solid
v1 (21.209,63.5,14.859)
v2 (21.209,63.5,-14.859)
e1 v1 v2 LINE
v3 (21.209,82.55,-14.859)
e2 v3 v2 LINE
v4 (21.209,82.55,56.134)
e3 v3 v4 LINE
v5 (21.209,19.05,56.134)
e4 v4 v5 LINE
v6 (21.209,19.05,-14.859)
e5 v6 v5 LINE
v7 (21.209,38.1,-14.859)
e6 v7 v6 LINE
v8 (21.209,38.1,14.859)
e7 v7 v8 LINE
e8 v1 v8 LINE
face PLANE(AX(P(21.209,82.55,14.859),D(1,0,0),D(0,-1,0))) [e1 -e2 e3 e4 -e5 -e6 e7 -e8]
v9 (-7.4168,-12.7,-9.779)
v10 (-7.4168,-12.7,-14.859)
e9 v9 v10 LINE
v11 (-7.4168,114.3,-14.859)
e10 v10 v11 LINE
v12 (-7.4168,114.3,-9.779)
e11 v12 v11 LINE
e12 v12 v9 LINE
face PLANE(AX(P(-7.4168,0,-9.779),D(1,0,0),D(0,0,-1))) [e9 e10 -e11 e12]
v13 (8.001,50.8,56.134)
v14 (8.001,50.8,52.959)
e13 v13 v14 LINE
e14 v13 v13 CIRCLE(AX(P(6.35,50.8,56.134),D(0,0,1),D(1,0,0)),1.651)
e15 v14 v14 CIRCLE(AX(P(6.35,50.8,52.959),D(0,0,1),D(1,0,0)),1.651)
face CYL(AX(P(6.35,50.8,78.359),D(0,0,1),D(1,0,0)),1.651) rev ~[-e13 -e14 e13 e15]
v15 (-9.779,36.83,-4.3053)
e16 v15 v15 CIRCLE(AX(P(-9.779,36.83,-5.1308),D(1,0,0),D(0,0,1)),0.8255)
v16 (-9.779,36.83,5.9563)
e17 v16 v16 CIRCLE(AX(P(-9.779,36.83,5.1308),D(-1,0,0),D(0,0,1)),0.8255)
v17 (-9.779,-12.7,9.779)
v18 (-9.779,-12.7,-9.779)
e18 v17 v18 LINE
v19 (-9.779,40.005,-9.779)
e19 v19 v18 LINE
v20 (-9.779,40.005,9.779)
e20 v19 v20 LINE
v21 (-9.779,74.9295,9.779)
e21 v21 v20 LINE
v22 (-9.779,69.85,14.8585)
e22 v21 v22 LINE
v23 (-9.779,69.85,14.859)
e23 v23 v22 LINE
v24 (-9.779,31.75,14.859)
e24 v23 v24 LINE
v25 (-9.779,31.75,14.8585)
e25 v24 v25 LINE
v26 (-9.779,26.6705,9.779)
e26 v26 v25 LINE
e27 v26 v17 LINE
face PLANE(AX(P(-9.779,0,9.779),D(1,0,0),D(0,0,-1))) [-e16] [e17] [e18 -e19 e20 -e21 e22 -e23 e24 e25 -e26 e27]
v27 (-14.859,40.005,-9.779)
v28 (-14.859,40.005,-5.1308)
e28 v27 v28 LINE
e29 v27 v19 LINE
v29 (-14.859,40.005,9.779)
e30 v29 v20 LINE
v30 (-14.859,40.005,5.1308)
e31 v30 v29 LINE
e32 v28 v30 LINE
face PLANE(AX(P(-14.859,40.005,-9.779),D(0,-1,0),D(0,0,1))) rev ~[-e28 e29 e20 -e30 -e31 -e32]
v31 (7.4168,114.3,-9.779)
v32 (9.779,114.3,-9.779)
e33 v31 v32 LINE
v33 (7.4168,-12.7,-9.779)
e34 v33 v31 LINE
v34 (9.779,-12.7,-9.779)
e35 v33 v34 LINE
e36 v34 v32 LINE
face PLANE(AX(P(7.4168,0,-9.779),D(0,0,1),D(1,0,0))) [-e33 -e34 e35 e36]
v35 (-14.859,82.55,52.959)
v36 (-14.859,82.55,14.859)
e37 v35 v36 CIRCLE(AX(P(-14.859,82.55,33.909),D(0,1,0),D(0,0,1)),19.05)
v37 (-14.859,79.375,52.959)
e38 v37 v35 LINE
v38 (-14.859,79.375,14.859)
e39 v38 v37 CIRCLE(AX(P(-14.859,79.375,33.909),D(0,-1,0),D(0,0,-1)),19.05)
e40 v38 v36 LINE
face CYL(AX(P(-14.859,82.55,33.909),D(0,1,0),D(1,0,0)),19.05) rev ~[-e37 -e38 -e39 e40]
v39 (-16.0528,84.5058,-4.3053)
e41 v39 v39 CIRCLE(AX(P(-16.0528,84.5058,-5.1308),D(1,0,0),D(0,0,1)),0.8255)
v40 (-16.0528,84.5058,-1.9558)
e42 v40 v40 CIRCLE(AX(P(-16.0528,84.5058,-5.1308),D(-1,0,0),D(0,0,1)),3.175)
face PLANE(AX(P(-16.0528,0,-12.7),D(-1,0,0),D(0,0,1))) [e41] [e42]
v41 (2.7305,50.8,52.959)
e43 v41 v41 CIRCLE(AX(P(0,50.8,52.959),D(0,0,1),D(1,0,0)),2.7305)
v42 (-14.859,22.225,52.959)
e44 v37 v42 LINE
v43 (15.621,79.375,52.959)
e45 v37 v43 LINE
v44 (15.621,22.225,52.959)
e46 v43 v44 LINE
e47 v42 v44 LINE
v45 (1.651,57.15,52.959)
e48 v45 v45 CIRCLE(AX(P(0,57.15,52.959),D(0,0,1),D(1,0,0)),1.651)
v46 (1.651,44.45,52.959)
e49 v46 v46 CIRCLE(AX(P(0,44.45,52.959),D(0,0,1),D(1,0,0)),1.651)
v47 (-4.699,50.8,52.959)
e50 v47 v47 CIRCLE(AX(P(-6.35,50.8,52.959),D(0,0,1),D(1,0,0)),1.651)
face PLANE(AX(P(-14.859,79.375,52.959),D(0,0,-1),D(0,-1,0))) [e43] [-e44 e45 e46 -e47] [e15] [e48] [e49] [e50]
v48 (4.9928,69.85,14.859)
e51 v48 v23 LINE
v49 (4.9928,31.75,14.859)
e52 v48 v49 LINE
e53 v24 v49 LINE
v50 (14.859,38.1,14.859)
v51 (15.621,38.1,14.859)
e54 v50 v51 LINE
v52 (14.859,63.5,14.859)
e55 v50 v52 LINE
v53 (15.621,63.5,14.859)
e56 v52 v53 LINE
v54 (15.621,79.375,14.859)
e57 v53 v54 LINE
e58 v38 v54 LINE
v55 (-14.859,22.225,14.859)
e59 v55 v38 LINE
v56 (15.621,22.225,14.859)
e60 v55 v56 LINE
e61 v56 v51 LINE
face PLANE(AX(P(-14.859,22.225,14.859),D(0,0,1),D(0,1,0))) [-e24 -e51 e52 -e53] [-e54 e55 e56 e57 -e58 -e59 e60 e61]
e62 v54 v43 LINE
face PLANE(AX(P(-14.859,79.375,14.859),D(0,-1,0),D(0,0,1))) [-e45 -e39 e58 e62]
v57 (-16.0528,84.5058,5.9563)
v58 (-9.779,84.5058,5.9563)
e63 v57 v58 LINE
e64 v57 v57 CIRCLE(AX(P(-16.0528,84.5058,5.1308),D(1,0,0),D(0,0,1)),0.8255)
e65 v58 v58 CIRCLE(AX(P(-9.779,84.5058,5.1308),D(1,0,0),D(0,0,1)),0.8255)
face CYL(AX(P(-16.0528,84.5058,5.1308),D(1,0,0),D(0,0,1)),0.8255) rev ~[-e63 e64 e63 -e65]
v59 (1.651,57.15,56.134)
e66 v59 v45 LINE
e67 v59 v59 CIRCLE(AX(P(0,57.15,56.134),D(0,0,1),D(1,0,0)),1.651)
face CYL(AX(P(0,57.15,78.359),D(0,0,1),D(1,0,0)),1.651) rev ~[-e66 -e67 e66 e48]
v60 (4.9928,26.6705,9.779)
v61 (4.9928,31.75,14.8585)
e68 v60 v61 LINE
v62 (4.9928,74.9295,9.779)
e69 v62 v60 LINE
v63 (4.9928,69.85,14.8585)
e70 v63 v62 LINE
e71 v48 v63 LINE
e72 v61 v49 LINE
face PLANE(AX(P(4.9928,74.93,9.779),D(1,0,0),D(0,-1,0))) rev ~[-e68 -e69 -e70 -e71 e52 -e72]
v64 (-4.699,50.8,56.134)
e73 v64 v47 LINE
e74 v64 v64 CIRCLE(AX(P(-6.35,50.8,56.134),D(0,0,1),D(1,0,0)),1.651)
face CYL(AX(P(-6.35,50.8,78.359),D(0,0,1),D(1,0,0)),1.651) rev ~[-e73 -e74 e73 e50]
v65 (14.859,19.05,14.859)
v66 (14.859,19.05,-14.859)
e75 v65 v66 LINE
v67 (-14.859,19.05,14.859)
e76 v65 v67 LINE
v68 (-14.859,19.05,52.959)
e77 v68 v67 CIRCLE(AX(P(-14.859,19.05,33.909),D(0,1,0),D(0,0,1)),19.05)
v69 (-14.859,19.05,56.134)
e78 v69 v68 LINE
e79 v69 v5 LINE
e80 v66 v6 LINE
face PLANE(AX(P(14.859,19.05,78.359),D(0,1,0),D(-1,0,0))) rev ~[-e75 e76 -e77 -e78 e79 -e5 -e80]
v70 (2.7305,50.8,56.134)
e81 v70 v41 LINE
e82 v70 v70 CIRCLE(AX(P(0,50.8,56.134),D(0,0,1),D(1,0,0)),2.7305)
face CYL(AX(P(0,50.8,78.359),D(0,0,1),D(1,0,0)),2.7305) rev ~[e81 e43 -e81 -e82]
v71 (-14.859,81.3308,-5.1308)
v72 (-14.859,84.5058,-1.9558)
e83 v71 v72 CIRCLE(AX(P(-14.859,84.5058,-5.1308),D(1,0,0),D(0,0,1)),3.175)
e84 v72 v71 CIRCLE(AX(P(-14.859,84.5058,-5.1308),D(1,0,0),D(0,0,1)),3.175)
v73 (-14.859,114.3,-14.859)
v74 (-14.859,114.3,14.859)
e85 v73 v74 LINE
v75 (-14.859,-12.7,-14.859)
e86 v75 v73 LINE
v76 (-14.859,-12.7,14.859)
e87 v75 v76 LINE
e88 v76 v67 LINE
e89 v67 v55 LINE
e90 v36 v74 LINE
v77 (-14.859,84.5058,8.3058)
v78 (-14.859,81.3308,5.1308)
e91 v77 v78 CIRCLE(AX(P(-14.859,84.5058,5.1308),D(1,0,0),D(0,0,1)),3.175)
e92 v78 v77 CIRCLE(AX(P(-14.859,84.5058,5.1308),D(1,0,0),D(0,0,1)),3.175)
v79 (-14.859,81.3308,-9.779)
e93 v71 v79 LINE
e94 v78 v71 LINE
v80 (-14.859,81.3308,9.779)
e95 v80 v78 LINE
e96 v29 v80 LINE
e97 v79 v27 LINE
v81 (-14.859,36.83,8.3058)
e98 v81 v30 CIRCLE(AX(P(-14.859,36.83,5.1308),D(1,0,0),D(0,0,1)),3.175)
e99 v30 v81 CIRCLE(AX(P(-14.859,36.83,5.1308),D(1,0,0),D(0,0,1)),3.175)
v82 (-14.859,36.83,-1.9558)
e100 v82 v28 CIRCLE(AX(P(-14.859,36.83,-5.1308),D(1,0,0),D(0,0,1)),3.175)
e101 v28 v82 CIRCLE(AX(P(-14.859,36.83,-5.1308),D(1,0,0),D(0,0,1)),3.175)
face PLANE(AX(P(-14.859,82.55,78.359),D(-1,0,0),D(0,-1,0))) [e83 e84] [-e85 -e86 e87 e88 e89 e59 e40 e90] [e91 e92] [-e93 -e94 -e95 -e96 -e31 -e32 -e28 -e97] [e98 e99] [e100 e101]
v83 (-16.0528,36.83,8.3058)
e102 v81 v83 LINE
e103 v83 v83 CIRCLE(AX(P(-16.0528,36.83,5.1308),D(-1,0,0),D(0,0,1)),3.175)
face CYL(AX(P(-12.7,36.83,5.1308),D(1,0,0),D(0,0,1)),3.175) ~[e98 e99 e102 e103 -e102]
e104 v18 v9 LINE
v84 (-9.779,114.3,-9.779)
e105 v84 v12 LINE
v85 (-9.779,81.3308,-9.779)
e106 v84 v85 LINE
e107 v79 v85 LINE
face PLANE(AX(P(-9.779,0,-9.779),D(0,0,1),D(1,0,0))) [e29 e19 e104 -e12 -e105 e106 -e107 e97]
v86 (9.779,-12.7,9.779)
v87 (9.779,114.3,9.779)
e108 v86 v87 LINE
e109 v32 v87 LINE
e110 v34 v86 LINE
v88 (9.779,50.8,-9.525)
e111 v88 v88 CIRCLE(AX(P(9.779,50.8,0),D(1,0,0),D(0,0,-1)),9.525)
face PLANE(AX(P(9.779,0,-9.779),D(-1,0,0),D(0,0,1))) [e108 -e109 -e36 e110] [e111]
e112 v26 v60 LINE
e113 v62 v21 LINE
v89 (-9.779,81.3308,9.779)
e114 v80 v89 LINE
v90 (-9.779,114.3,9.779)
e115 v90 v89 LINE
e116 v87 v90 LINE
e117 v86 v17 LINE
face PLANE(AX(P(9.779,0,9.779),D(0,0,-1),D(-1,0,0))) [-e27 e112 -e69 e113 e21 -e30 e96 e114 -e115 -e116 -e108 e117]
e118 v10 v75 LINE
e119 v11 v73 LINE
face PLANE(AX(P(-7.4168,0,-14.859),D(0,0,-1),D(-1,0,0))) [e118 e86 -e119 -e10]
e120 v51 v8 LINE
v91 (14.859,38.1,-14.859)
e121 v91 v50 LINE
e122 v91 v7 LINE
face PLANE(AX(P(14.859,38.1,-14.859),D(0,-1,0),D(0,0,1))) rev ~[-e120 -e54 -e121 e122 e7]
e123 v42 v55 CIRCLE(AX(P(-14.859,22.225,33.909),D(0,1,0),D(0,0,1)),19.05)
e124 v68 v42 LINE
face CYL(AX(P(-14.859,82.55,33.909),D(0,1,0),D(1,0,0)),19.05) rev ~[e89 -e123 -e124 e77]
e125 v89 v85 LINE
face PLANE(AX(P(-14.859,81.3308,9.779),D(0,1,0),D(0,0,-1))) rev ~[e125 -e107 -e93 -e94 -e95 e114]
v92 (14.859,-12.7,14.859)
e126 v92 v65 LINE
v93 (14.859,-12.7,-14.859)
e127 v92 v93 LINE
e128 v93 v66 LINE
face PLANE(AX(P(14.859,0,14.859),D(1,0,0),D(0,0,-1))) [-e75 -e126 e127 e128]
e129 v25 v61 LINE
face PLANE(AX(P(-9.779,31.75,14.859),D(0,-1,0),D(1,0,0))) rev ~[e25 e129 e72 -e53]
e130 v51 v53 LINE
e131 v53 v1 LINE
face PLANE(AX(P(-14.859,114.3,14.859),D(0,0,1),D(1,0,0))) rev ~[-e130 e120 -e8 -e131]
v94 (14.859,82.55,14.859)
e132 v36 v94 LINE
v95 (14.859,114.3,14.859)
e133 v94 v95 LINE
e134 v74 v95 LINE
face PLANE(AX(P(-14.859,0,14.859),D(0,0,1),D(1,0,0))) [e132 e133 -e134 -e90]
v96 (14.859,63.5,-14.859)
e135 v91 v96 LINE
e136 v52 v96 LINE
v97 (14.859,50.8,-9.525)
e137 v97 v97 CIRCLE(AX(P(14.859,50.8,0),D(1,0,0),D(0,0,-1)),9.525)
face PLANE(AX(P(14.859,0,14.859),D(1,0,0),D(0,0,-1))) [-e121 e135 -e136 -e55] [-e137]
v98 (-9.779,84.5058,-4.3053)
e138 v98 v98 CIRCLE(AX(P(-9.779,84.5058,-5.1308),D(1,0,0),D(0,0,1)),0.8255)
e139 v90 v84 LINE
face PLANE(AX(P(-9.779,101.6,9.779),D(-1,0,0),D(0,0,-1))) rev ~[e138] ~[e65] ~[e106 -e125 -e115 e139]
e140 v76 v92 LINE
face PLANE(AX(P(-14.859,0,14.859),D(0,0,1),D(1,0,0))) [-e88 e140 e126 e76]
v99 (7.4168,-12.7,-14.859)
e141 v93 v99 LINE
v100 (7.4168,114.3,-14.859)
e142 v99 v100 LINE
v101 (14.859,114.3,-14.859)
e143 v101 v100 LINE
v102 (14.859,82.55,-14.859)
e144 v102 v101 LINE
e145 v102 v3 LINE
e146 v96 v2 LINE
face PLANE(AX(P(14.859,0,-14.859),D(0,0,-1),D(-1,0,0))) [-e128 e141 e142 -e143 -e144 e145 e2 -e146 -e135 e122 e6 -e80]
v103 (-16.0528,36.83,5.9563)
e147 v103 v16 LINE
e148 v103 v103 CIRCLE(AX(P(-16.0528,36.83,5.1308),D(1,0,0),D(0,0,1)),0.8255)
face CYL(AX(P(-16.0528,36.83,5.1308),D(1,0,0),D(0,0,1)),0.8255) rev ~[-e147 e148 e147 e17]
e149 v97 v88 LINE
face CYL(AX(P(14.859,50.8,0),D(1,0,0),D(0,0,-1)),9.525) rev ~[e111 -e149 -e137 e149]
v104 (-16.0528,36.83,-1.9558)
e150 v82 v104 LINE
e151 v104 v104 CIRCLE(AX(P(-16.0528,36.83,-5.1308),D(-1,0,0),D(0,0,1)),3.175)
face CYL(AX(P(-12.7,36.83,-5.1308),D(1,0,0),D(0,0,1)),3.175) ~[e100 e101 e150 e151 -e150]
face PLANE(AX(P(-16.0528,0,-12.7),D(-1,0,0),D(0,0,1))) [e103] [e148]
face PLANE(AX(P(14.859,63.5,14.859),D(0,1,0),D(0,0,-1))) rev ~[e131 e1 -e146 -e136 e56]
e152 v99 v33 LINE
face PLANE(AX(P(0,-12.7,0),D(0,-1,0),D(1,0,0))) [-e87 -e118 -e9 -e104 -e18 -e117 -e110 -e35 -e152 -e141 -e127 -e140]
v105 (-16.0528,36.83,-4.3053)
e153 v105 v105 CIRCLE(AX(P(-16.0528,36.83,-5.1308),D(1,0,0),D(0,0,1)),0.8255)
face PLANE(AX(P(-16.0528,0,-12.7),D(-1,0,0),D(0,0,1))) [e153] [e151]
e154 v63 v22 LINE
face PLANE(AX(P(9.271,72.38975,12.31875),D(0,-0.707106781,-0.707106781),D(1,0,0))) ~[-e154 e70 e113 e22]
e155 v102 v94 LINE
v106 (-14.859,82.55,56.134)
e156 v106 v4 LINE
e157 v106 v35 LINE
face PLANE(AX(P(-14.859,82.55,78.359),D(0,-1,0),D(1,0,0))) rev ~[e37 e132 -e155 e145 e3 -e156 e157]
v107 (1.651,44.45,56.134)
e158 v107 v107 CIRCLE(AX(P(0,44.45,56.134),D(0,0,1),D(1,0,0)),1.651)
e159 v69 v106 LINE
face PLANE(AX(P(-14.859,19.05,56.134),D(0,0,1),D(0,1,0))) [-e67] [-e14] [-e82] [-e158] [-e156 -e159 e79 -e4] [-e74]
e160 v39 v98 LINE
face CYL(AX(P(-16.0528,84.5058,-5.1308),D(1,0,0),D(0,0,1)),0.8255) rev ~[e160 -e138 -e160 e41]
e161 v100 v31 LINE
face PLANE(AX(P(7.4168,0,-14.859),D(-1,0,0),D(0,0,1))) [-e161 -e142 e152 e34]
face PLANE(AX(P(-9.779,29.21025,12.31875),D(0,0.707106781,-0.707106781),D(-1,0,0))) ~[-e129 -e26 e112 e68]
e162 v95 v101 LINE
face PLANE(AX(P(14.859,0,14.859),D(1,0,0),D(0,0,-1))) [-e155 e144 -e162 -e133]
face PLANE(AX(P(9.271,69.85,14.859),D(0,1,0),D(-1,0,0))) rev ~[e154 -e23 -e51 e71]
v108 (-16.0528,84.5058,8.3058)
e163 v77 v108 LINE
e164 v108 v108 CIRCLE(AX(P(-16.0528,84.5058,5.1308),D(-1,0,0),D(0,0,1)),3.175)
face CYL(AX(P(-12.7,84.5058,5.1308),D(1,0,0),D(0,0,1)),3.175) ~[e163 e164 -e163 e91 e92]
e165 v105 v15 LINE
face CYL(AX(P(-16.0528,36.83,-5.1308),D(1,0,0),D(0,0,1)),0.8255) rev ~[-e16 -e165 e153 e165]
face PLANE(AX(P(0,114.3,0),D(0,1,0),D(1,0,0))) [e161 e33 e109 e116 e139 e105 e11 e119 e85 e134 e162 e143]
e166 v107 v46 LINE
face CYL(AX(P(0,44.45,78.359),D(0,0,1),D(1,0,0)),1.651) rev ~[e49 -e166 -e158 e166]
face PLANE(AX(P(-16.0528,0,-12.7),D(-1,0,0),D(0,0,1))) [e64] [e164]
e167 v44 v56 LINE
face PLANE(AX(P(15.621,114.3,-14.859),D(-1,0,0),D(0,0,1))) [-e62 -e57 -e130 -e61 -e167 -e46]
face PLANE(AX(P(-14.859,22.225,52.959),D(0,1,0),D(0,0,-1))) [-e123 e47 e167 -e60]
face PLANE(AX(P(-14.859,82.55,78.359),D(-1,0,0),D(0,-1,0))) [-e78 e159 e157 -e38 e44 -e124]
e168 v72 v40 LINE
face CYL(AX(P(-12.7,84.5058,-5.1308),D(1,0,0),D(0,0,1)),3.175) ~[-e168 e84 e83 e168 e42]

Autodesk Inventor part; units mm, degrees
ref_plane "YZ Plane" through (0, 0, 0) normal (1, 0, 0) x (0, 1, 0)
ref_plane "XZ Plane" through (0, 0, 0) normal (0, 1, 0) x (-1, 0, 0)
ref_plane "XY Plane" through (0, 0, 0) normal (0, 0, 1) x (1, 0, 0)
sketch "Sketch1" plane through (0, 0, 0) normal (0, 1, 0) x (-1, 0, 0)
  line L0 (12.7, 12.7) -> (-12.7, 12.7)
  line L1 (-12.7, 12.7) -> (-12.7, -12.7)
  line L2 (-12.7, -12.7) -> (12.7, -12.7)
  line L3 (12.7, -12.7) -> (12.7, 12.7)
  point P0 (0, 0)
  dimension "d0" = 12.7
  dimension "d1" = 12.7
  dimension "d2" = 25.4
  dimension "d3" = 25.4
extrude "Extrusion1" add sketch "Sketch1" along normal blind 101.6
sketch "Sketch2" plane through (0, 101.6, 0) normal (0, 1, 0) x (1, 0, 0)
  line L0 (-9.779, -9.779) -> (9.779, -9.779)
  line L1 (9.779, -9.779) -> (9.779, 9.779)
  line L2 (9.779, 9.779) -> (-9.779, 9.779)
  line L3 (-9.779, 9.779) -> (-9.779, -9.779)
  line L4 (-12.7, 12.7) -> (-12.7, -12.7) projected
  line L5 (-12.7, -12.7) -> (12.7, -12.7) projected
  line L6 (12.7, -12.7) -> (12.7, 12.7) projected
  line L7 (12.7, 12.7) -> (-12.7, 12.7) projected
  point P0 (0, 0)
  dimension "d6" = 2.921
  dimension "d7" = 2.921
  dimension "d8" = 2.921
  dimension "d9" = 2.921
extrude "Extrusion2" cut sketch "Sketch2" against normal blind 101.6 contours L3 L2 L1 L0
sketch "Sketch3" plane through (0, 101.6, 0) normal (0, 1, 0) x (1, 0, 0)
  line L0 (-9.779, 9.779) -> (9.779, 9.779) projected
  line L1 (12.7, 12.7) -> (-12.7, 12.7) projected
  line L2 (-7.4168, 9.779) -> (7.4168, 9.779)
  line L3 (7.4168, 9.779) -> (7.4168, 12.7)
  line L4 (7.4168, 12.7) -> (-7.4168, 12.7)
  line L5 (-7.4168, 12.7) -> (-7.4168, 9.779)
  line L6 (-12.7, 12.7) -> (-12.7, -12.7) projected
  line L7 (12.7, -12.7) -> (12.7, 12.7) projected
  point P0 (0, 0)
  dimension "d12" = 5.2832
  dimension "d13" = 5.2832
extrude "Extrusion3" cut sketch "Sketch3" against normal blind 101.6
sketch "Sketch5" plane through (-12.7, 0, -12.7) normal (-1, 0, 0) x (0, 0, 1)
  line L0 (2.921, 40.005) -> (22.479, 40.005)
  line L1 (22.479, 40.005) -> (22.479, 81.3308)
  line L2 (22.479, 81.3308) -> (2.921, 81.3308)
  line L3 (2.921, 81.3308) -> (2.921, 40.005)
  line L4 (0, 0) -> (0, 101.6) projected
  line L5 (22.479, 101.6) -> (2.921, 101.6) projected
  point P0 (12.7, 0)
  dimension "d16" = 19.558
  dimension "d17" = 2.921
  dimension "d18" = 20.2692
  dimension "d19" = 41.3258
extrude "Extrusion4" cut sketch "Sketch5" against normal blind 5.08
sketch "Sketch6" plane through (-12.7, 0, -12.7) normal (-1, 0, 0) x (0, 0, 1)
  circle A0 centre (17.8308, 36.83) radius 3.175
  line L0 (25.4, 0) -> (25.4, 101.6) projected
  circle A1 centre (7.5692, 36.83) radius 3.175
  circle A2 centre (17.8308, 84.5058) radius 3.175
  circle A3 centre (7.5692, 84.5058) radius 3.175
  line L1 (0, 101.6) -> (25.4, 101.6) projected
  point P0 (12.7, 0)
  dimension "d22" = 7.5692
  dimension "d23" = 10.2616
  dimension "d24" = 6.35
  dimension "d25" = 6.35
  dimension "d26" = 6.35
  dimension "d27" = 6.35
  dimension "d28" = 17.0942
  dimension "d29" = 17.0942
  dimension "d30" = 10.2616
  dimension "d31" = 7.5692
  dimension "d32" = 47.6758
  dimension "d33" = 47.6758
extrude "Extrusion5" add sketch "Sketch6" along normal blind 3.3528
hole "Hole1" at (-16.0528, 84.5058, 5.1308) direction (1, 0, 0) diameter 1.651 depth 12.7 tip angle 118
hole "Hole2" at (-16.0528, 84.5058, -5.1308) direction (1, 0, 0) diameter 1.651 depth 12.7 tip angle 118
hole "Hole3" at (-16.0528, 36.83, 5.1308) direction (1, 0, 0) diameter 1.651 depth 12.7 tip angle 118
hole "Hole4" at (-16.0528, 36.83, -5.1308) direction (1, 0, 0) diameter 1.651 depth 12.7 tip angle 118
sketch "Sketch11" plane through (-12.7, 0, 12.7) normal (0, 0, 1) x (1, 0, 0)
  line L0 (5.08, 31.75) -> (17.78, 31.75)
  line L1 (17.78, 31.75) -> (17.78, 69.85)
  line L2 (17.78, 69.85) -> (5.08, 69.85)
  line L3 (5.08, 69.85) -> (5.08, 31.75)
  line L4 (0, 0) -> (25.4, 0) projected
  line L5 (0, 101.6) -> (25.4, 101.6) projected
  line L6 (0, 0) -> (0, 101.6) projected
  point P0 (12.7, 0)
  dimension "d82" = 31.75
  dimension "d83" = 31.75
  dimension "d84" = 5.08
  dimension "d85" = 12.7
extrude "Extrusion6" cut sketch "Sketch11" against normal blind 10.16
sketch "Sketch12" plane through (0, 0, 0) normal (0, -1, 0) x (1, 0, 0)
  line L0 (-7.4168, -9.779) -> (-7.4168, -14.859)
  line L1 (-7.4168, -14.859) -> (-14.859, -14.859)
  line L2 (-14.859, -14.859) -> (-14.859, 14.859)
  line L3 (-12.7, -12.7) -> (-12.7, 12.7) projected
  line L4 (-7.4168, -12.7) -> (-12.7, -12.7) projected
  line L5 (7.4168, -9.779) -> (7.4168, -14.859)
  line L6 (7.4168, -9.779) -> (7.4168, -12.7) projected
  line L7 (7.4168, -14.859) -> (14.859, -14.859)
  line L8 (14.859, -14.859) -> (14.859, 14.859)
  line L9 (12.7, -12.7) -> (7.4168, -12.7) projected
  line L10 (12.7, 12.7) -> (12.7, -12.7) projected
  line L11 (14.859, 14.859) -> (-14.859, 14.859)
  line L12 (5.08, 12.7) -> (-7.62, 12.7) projected
  line L13 (-7.4168, -12.7) -> (-7.4168, -9.779)
  line L14 (-7.4168, -12.7) -> (-7.4168, -9.779) projected
  line L15 (-9.779, -9.779) -> (-9.779, 9.779)
  line L16 (-9.779, 9.779) -> (9.779, 9.779) projected
  line L17 (-9.779, 9.779) -> (9.779, 9.779)
  line L18 (9.779, 9.779) -> (-9.779, 9.779) projected
  line L19 (9.779, 9.779) -> (9.779, -9.779)
  line L20 (9.779, -9.779) -> (7.4168, -9.779)
  line L21 (7.4168, -9.779) -> (9.779, -9.779) projected
  line L22 (-7.4168, -9.779) -> (-9.779, -9.779)
  point P0 (0, 0)
  dimension "d88" = 5.08
  dimension "d89" = 2.159
  dimension "d90" = 2.159
  dimension "d92" = 2.159
  dimension "d94" = 2.159
  dimension "d95" = 2.159
extrude "Extrusion7" add sketch "Sketch12" against normal blind 101.6
hole "Hole5" at (-16.0528, 84.5058, 5.1308) direction (1, 0, 0) diameter 1.651 depth 12.7 tip angle 118
hole "Hole6" at (-16.0528, 84.5058, -5.1308) direction (1, 0, 0) diameter 1.651 depth 12.7 tip angle 118
hole "Hole7" at (-16.0528, 36.83, 5.1308) direction (1, 0, 0) diameter 1.651 depth 12.7 tip angle 118
hole "Hole8" at (-16.0528, 36.83, -5.1308) direction (1, 0, 0) diameter 1.651 depth 12.7 tip angle 118
sketch "Sketch13" plane through (-14.859, 0, -14.859) normal (-1, 0, 0) x (0, 0, 1)
  line L0 (5.08, 40.005) -> (24.638, 40.005)
  line L1 (24.638, 40.005) -> (24.638, 81.3308)
  line L2 (24.638, 81.3308) -> (5.08, 81.3308)
  line L3 (5.08, 81.3308) -> (5.08, 40.005)
  line L4 (0, 0) -> (0, 101.6) projected
  line L5 (29.718, 0) -> (29.718, 101.6) projected
  line L6 (0, 101.6) -> (29.718, 101.6) projected
  point P0 (14.859, 0)
  dimension "d136" = 41.3258
  dimension "d137" = 20.2692
  dimension "d139" = 19.558
  dimension "d140" = 29.718
  dimension "d141" = 5.08
  dimension "d142" = 5.08
extrude "Extrusion8" cut sketch "Sketch13" against normal blind 10.16
sketch "Sketch15" plane through (-14.859, 0, 14.859) normal (0, 0, 1) x (1, 0, 0)
  line L0 (5.08, 31.75) -> (24.13, 31.75)
  line L1 (24.13, 31.75) -> (24.13, 69.85)
  line L2 (24.13, 69.85) -> (5.08, 69.85)
  line L3 (5.08, 69.85) -> (5.08, 31.75)
  line L4 (0, 101.6) -> (29.718, 101.6) projected
  line L5 (0, 0) -> (0, 101.6) projected
  line L6 (29.718, 0) -> (29.718, 101.6) projected
  point P0 (14.859, 0)
  dimension "d145" = 38.1
  dimension "d146" = 31.75
  dimension "d147" = 19.05
  dimension "d148" = 5.08
extrude "Extrusion9" cut sketch "Sketch15" against normal blind 10.16
chamfer "Chamfer1" distance 5.08 angle 45 2 edges at (-0.254, 69.85, 9.779) (-0.254, 31.75, 9.779)
sketch "Sketch17" plane through (0, 101.6, 0) normal (0, 1, 0) x (1, 0, 0)
  line L0 (-7.4168, 9.779) -> (-7.4168, 14.859)
  line L1 (-7.4168, 14.859) -> (-14.859, 14.859)
  line L2 (-14.859, 14.859) -> (-14.859, -14.859)
  line L3 (-14.859, -14.859) -> (14.859, -14.859)
  line L4 (14.859, -14.859) -> (14.859, 14.859)
  line L5 (14.859, 14.859) -> (14.859, -14.859) projected
  line L6 (14.859, 14.859) -> (7.4168, 14.859)
  line L7 (7.4168, 14.859) -> (7.4168, 9.779)
  line L8 (7.4168, 9.779) -> (7.4168, 14.859) projected
  line L9 (7.4168, 9.779) -> (9.779, 9.779)
  line L10 (9.779, 9.779) -> (9.779, -9.779)
  line L11 (9.779, -9.779) -> (-9.779, -9.779)
  line L12 (-9.779, -9.779) -> (9.779, -9.779) projected
  line L13 (-9.779, -9.779) -> (-9.779, 9.779)
  line L14 (-9.779, -9.779) -> (-9.779, 9.779) projected
  line L15 (-9.779, 9.779) -> (-7.4168, 9.779)
  line L16 (-7.4168, 9.779) -> (-9.779, 9.779) projected
  line L17 (-7.4168, 9.779) -> (-7.4168, 14.859)
  point P0 (0, 0)
extrude "Extrusion10" add sketch "Sketch17" along normal blind 12.7
sketch "Sketch18" plane through (0, 0, 0) normal (0, -1, 0) x (1, 0, 0)
  line L0 (-7.4168, -9.779) -> (-7.4168, -14.859)
  line L1 (-7.4168, -14.859) -> (-7.4168, -9.779) projected
  line L2 (-7.4168, -14.859) -> (-14.859, -14.859)
  line L3 (-14.859, -14.859) -> (-7.4168, -14.859) projected
  line L4 (-14.859, -14.859) -> (-14.859, 14.859)
  line L5 (-14.859, 14.859) -> (14.859, 14.859)
  line L6 (14.859, 14.859) -> (-14.859, 14.859) projected
  line L7 (14.859, 14.859) -> (14.859, -14.859)
  line L8 (14.859, -14.859) -> (7.4168, -14.859)
  line L9 (7.4168, -14.859) -> (7.4168, -9.779)
  line L10 (7.4168, -9.779) -> (7.4168, -14.859) projected
  line L11 (7.4168, -9.779) -> (9.779, -9.779)
  line L12 (9.779, -9.779) -> (9.779, 9.779)
  line L13 (9.779, 9.779) -> (9.779, -9.779) projected
  line L14 (9.779, 9.779) -> (-9.779, 9.779)
  line L15 (-9.779, 9.779) -> (-9.779, -9.779)
  line L16 (-9.779, -9.779) -> (-9.779, 9.779) projected
  line L17 (-9.779, -9.779) -> (-7.4168, -9.779)
  line L18 (-7.4168, -9.779) -> (-9.779, -9.779) projected
  line L19 (-7.4168, -14.859) -> (-14.859, -14.859)
  point P0 (0, 0)
extrude "Extrusion11" add sketch "Sketch18" along normal blind 12.7
sketch "Sketch20" plane through (14.859, 114.3, 14.859) normal (1, 0, 0) x (0, 0, -1)
  circle A0 centre (14.859, -63.5) radius 9.525
  line L0 (29.718, -127) -> (0, -127) projected
  line L1 (0, 0) -> (0, -127) projected
  line L2 (29.718, 0) -> (29.718, -127) projected
  point P0 (14.859, -114.3)
  dimension "d160" = 63.5
  dimension "d161" = 19.05
  dimension "d162" = 14.859
  dimension "d163" = 29.718
extrude "Extrusion12" cut sketch "Sketch20" against normal blind 12.7
sketch "Sketch21" plane through (14.859, 114.3, 14.859) normal (1, 0, 0) x (0, 0, -1)
  line L0 (0, 0) -> (0, -127) projected
  line L1 (29.718, 0) -> (29.718, -127) projected
  line L2 (0, -95.25) -> (29.718, -95.25)
  line L3 (29.718, -95.25) -> (29.718, -76.2)
  line L4 (29.718, -76.2) -> (0, -76.2)
  line L5 (0, -76.2) -> (0, -95.25)
  circle A0 centre (14.859, -63.5) radius 9.525 projected
  line L6 (0, -50.8) -> (29.718, -50.8)
  line L7 (29.718, -50.8) -> (29.718, -31.75)
  line L8 (29.718, -31.75) -> (0, -31.75)
  line L9 (0, -31.75) -> (0, -50.8)
  point P0 (14.859, -114.3)
  dimension "d166" = 12.7
  dimension "d167" = 19.05
  dimension "d168" = 12.7
  dimension "d169" = 19.05
extrude "Extrusion13" add sketch "Sketch21" along normal blind 6.35 contours L8 L1 L6 L0 | L4 L1 L2 L0
sketch "Sketch22" plane through (-14.859, 114.3, 14.859) normal (0, 0, 1) x (1, 0, 0)
  line L0 (36.068, -95.25) -> (29.718, -95.25)
  line L1 (29.718, -95.25) -> (29.718, -31.75)
  line L2 (29.718, -31.75) -> (36.068, -31.75)
  line L3 (36.068, -31.75) -> (36.068, -95.25)
  point P0 (14.859, -114.3)
extrude "Extrusion14" add sketch "Sketch22" along normal blind 63.5
sketch "Sketch23" plane through (-14.859, 114.3, 78.359) normal (0, 0, 1) x (1, 0, 0)
  line L0 (29.718, -95.25) -> (29.718, -127) projected
  line L1 (0, 0) -> (0, -127) projected
  line L2 (0, 0) -> (29.718, 0) projected
  line L3 (29.718, -127) -> (0, -127) projected
  circle A0 centre (14.859, -63.5) radius 2.7305
  circle A1 centre (14.859, -57.15) radius 1.651
  circle A2 centre (8.509, -63.5) radius 1.651
  circle A3 centre (14.859, -69.85) radius 1.651
  circle A4 centre (21.209, -63.5) radius 1.651
  line L4 (36.068, -95.25) -> (0, -95.25)
  line L5 (0, -95.25) -> (0, -31.75)
  line L6 (0, -31.75) -> (36.068, -31.75)
  line L7 (36.068, -31.75) -> (36.068, -95.25)
  point P0 (14.859, -114.3)
  dimension "d174" = 29.718
  dimension "d175" = 127
  dimension "d176" = 63.5
  dimension "d177" = 14.859
  dimension "d178" = 5.461
  dimension "d179" = 6.35
  dimension "d180" = 3.302
  dimension "d181" = 0
  dimension "d182" = 6.35
  dimension "d183" = 3.302
  dimension "d184" = 6.35
  dimension "d185" = 0
  dimension "d186" = 3.302
  dimension "d187" = 6.35
  dimension "d188" = 0
  dimension "d189" = 3.302
  dimension "d190" = 63.5
  dimension "d191" = 0
extrude "Extrusion15" add sketch "Sketch23" against normal blind 63.5 contours L4 L1 L6 L7
sketch "Sketch24" plane through (-14.859, 114.3, -14.859) normal (-1, 0, 0) x (0, 0, 1)
  line L0 (29.718, -34.925) -> (67.818, -34.925)
  line L1 (67.818, -34.925) -> (67.818, -92.075)
  line L2 (67.818, -92.075) -> (29.718, -92.075)
  line L3 (29.718, -92.075) -> (29.718, -34.925)
  line L4 (29.718, -95.25) -> (29.718, -127) projected
  line L5 (93.218, -95.25) -> (29.718, -95.25) projected
  line L6 (93.218, -31.75) -> (29.718, -31.75) projected
  point P0 (14.859, -114.3)
  dimension "d194" = 38.1
  dimension "d195" = 0
  dimension "d196" = 3.175
  dimension "d197" = 3.175
extrude "Extrusion16" cut sketch "Sketch24" against normal blind 30.48
sketch "Sketch26" plane through (-14.859, 114.3, -14.859) normal (-1, 0, 0) x (0, 0, 1)
  line L0 (93.218, -95.25) -> (29.718, -95.25) projected
  line L1 (70.993, -95.25) -> (70.993, -31.75)
  line L2 (93.218, -31.75) -> (29.718, -31.75) projected
  line L3 (67.818, -34.925) -> (67.818, -92.075) projected
  line L4 (70.993, -95.25) -> (93.218, -95.25)
  line L5 (93.218, -31.75) -> (70.993, -31.75)
  line L6 (93.218, -95.25) -> (70.993, -95.25)
  line L7 (70.993, -95.25) -> (70.993, -31.75)
  line L8 (70.993, -31.75) -> (93.218, -31.75)
  line L9 (93.218, -31.75) -> (93.218, -95.25)
  point P0 (14.859, -114.3)
  dimension "d200" = 3.175
extrude "Extrusion17" cut sketch "Sketch26" against normal blind 50.8
sketch "Sketch27" plane through (14.859, 82.55, 14.859) normal (0, 1, 0) x (1, 0, 0)
  line L0 (-29.718, 0) -> (-29.718, -38.1) projected
  circle A0 centre (-29.718, -19.05) radius 19.05
  line L1 (-29.718, 0) -> (0, 0) projected
  line L2 (-29.718, -38.1) -> (0.762, -38.1) projected
  point P0 (-14.859, 14.859)
  dimension "d203" = 38.1
  dimension "d204" = 19.05
  dimension "d205" = 38.1
extrude "Extrusion18" cut sketch "Sketch27" against normal blind 101.6
sketch "Sketch30" plane through (-9.779, 40.005, 9.779) normal (0, 0, -1) x (-1, 0, 0)
  line L0 (-19.05, 34.925) -> (-14.7718, 34.925)
  line L1 (-14.7718, 34.925) -> (-14.7718, -14.5025)
  line L2 (-14.7718, -14.5025) -> (-19.05, -14.5025)
  line L3 (-19.05, -14.5025) -> (-19.05, 34.925)
  point P0 (-9.779, -40.005)
extrude "Extrusion19" add sketch "Sketch30" against normal blind 5.08
properties part number "final_bracket"
